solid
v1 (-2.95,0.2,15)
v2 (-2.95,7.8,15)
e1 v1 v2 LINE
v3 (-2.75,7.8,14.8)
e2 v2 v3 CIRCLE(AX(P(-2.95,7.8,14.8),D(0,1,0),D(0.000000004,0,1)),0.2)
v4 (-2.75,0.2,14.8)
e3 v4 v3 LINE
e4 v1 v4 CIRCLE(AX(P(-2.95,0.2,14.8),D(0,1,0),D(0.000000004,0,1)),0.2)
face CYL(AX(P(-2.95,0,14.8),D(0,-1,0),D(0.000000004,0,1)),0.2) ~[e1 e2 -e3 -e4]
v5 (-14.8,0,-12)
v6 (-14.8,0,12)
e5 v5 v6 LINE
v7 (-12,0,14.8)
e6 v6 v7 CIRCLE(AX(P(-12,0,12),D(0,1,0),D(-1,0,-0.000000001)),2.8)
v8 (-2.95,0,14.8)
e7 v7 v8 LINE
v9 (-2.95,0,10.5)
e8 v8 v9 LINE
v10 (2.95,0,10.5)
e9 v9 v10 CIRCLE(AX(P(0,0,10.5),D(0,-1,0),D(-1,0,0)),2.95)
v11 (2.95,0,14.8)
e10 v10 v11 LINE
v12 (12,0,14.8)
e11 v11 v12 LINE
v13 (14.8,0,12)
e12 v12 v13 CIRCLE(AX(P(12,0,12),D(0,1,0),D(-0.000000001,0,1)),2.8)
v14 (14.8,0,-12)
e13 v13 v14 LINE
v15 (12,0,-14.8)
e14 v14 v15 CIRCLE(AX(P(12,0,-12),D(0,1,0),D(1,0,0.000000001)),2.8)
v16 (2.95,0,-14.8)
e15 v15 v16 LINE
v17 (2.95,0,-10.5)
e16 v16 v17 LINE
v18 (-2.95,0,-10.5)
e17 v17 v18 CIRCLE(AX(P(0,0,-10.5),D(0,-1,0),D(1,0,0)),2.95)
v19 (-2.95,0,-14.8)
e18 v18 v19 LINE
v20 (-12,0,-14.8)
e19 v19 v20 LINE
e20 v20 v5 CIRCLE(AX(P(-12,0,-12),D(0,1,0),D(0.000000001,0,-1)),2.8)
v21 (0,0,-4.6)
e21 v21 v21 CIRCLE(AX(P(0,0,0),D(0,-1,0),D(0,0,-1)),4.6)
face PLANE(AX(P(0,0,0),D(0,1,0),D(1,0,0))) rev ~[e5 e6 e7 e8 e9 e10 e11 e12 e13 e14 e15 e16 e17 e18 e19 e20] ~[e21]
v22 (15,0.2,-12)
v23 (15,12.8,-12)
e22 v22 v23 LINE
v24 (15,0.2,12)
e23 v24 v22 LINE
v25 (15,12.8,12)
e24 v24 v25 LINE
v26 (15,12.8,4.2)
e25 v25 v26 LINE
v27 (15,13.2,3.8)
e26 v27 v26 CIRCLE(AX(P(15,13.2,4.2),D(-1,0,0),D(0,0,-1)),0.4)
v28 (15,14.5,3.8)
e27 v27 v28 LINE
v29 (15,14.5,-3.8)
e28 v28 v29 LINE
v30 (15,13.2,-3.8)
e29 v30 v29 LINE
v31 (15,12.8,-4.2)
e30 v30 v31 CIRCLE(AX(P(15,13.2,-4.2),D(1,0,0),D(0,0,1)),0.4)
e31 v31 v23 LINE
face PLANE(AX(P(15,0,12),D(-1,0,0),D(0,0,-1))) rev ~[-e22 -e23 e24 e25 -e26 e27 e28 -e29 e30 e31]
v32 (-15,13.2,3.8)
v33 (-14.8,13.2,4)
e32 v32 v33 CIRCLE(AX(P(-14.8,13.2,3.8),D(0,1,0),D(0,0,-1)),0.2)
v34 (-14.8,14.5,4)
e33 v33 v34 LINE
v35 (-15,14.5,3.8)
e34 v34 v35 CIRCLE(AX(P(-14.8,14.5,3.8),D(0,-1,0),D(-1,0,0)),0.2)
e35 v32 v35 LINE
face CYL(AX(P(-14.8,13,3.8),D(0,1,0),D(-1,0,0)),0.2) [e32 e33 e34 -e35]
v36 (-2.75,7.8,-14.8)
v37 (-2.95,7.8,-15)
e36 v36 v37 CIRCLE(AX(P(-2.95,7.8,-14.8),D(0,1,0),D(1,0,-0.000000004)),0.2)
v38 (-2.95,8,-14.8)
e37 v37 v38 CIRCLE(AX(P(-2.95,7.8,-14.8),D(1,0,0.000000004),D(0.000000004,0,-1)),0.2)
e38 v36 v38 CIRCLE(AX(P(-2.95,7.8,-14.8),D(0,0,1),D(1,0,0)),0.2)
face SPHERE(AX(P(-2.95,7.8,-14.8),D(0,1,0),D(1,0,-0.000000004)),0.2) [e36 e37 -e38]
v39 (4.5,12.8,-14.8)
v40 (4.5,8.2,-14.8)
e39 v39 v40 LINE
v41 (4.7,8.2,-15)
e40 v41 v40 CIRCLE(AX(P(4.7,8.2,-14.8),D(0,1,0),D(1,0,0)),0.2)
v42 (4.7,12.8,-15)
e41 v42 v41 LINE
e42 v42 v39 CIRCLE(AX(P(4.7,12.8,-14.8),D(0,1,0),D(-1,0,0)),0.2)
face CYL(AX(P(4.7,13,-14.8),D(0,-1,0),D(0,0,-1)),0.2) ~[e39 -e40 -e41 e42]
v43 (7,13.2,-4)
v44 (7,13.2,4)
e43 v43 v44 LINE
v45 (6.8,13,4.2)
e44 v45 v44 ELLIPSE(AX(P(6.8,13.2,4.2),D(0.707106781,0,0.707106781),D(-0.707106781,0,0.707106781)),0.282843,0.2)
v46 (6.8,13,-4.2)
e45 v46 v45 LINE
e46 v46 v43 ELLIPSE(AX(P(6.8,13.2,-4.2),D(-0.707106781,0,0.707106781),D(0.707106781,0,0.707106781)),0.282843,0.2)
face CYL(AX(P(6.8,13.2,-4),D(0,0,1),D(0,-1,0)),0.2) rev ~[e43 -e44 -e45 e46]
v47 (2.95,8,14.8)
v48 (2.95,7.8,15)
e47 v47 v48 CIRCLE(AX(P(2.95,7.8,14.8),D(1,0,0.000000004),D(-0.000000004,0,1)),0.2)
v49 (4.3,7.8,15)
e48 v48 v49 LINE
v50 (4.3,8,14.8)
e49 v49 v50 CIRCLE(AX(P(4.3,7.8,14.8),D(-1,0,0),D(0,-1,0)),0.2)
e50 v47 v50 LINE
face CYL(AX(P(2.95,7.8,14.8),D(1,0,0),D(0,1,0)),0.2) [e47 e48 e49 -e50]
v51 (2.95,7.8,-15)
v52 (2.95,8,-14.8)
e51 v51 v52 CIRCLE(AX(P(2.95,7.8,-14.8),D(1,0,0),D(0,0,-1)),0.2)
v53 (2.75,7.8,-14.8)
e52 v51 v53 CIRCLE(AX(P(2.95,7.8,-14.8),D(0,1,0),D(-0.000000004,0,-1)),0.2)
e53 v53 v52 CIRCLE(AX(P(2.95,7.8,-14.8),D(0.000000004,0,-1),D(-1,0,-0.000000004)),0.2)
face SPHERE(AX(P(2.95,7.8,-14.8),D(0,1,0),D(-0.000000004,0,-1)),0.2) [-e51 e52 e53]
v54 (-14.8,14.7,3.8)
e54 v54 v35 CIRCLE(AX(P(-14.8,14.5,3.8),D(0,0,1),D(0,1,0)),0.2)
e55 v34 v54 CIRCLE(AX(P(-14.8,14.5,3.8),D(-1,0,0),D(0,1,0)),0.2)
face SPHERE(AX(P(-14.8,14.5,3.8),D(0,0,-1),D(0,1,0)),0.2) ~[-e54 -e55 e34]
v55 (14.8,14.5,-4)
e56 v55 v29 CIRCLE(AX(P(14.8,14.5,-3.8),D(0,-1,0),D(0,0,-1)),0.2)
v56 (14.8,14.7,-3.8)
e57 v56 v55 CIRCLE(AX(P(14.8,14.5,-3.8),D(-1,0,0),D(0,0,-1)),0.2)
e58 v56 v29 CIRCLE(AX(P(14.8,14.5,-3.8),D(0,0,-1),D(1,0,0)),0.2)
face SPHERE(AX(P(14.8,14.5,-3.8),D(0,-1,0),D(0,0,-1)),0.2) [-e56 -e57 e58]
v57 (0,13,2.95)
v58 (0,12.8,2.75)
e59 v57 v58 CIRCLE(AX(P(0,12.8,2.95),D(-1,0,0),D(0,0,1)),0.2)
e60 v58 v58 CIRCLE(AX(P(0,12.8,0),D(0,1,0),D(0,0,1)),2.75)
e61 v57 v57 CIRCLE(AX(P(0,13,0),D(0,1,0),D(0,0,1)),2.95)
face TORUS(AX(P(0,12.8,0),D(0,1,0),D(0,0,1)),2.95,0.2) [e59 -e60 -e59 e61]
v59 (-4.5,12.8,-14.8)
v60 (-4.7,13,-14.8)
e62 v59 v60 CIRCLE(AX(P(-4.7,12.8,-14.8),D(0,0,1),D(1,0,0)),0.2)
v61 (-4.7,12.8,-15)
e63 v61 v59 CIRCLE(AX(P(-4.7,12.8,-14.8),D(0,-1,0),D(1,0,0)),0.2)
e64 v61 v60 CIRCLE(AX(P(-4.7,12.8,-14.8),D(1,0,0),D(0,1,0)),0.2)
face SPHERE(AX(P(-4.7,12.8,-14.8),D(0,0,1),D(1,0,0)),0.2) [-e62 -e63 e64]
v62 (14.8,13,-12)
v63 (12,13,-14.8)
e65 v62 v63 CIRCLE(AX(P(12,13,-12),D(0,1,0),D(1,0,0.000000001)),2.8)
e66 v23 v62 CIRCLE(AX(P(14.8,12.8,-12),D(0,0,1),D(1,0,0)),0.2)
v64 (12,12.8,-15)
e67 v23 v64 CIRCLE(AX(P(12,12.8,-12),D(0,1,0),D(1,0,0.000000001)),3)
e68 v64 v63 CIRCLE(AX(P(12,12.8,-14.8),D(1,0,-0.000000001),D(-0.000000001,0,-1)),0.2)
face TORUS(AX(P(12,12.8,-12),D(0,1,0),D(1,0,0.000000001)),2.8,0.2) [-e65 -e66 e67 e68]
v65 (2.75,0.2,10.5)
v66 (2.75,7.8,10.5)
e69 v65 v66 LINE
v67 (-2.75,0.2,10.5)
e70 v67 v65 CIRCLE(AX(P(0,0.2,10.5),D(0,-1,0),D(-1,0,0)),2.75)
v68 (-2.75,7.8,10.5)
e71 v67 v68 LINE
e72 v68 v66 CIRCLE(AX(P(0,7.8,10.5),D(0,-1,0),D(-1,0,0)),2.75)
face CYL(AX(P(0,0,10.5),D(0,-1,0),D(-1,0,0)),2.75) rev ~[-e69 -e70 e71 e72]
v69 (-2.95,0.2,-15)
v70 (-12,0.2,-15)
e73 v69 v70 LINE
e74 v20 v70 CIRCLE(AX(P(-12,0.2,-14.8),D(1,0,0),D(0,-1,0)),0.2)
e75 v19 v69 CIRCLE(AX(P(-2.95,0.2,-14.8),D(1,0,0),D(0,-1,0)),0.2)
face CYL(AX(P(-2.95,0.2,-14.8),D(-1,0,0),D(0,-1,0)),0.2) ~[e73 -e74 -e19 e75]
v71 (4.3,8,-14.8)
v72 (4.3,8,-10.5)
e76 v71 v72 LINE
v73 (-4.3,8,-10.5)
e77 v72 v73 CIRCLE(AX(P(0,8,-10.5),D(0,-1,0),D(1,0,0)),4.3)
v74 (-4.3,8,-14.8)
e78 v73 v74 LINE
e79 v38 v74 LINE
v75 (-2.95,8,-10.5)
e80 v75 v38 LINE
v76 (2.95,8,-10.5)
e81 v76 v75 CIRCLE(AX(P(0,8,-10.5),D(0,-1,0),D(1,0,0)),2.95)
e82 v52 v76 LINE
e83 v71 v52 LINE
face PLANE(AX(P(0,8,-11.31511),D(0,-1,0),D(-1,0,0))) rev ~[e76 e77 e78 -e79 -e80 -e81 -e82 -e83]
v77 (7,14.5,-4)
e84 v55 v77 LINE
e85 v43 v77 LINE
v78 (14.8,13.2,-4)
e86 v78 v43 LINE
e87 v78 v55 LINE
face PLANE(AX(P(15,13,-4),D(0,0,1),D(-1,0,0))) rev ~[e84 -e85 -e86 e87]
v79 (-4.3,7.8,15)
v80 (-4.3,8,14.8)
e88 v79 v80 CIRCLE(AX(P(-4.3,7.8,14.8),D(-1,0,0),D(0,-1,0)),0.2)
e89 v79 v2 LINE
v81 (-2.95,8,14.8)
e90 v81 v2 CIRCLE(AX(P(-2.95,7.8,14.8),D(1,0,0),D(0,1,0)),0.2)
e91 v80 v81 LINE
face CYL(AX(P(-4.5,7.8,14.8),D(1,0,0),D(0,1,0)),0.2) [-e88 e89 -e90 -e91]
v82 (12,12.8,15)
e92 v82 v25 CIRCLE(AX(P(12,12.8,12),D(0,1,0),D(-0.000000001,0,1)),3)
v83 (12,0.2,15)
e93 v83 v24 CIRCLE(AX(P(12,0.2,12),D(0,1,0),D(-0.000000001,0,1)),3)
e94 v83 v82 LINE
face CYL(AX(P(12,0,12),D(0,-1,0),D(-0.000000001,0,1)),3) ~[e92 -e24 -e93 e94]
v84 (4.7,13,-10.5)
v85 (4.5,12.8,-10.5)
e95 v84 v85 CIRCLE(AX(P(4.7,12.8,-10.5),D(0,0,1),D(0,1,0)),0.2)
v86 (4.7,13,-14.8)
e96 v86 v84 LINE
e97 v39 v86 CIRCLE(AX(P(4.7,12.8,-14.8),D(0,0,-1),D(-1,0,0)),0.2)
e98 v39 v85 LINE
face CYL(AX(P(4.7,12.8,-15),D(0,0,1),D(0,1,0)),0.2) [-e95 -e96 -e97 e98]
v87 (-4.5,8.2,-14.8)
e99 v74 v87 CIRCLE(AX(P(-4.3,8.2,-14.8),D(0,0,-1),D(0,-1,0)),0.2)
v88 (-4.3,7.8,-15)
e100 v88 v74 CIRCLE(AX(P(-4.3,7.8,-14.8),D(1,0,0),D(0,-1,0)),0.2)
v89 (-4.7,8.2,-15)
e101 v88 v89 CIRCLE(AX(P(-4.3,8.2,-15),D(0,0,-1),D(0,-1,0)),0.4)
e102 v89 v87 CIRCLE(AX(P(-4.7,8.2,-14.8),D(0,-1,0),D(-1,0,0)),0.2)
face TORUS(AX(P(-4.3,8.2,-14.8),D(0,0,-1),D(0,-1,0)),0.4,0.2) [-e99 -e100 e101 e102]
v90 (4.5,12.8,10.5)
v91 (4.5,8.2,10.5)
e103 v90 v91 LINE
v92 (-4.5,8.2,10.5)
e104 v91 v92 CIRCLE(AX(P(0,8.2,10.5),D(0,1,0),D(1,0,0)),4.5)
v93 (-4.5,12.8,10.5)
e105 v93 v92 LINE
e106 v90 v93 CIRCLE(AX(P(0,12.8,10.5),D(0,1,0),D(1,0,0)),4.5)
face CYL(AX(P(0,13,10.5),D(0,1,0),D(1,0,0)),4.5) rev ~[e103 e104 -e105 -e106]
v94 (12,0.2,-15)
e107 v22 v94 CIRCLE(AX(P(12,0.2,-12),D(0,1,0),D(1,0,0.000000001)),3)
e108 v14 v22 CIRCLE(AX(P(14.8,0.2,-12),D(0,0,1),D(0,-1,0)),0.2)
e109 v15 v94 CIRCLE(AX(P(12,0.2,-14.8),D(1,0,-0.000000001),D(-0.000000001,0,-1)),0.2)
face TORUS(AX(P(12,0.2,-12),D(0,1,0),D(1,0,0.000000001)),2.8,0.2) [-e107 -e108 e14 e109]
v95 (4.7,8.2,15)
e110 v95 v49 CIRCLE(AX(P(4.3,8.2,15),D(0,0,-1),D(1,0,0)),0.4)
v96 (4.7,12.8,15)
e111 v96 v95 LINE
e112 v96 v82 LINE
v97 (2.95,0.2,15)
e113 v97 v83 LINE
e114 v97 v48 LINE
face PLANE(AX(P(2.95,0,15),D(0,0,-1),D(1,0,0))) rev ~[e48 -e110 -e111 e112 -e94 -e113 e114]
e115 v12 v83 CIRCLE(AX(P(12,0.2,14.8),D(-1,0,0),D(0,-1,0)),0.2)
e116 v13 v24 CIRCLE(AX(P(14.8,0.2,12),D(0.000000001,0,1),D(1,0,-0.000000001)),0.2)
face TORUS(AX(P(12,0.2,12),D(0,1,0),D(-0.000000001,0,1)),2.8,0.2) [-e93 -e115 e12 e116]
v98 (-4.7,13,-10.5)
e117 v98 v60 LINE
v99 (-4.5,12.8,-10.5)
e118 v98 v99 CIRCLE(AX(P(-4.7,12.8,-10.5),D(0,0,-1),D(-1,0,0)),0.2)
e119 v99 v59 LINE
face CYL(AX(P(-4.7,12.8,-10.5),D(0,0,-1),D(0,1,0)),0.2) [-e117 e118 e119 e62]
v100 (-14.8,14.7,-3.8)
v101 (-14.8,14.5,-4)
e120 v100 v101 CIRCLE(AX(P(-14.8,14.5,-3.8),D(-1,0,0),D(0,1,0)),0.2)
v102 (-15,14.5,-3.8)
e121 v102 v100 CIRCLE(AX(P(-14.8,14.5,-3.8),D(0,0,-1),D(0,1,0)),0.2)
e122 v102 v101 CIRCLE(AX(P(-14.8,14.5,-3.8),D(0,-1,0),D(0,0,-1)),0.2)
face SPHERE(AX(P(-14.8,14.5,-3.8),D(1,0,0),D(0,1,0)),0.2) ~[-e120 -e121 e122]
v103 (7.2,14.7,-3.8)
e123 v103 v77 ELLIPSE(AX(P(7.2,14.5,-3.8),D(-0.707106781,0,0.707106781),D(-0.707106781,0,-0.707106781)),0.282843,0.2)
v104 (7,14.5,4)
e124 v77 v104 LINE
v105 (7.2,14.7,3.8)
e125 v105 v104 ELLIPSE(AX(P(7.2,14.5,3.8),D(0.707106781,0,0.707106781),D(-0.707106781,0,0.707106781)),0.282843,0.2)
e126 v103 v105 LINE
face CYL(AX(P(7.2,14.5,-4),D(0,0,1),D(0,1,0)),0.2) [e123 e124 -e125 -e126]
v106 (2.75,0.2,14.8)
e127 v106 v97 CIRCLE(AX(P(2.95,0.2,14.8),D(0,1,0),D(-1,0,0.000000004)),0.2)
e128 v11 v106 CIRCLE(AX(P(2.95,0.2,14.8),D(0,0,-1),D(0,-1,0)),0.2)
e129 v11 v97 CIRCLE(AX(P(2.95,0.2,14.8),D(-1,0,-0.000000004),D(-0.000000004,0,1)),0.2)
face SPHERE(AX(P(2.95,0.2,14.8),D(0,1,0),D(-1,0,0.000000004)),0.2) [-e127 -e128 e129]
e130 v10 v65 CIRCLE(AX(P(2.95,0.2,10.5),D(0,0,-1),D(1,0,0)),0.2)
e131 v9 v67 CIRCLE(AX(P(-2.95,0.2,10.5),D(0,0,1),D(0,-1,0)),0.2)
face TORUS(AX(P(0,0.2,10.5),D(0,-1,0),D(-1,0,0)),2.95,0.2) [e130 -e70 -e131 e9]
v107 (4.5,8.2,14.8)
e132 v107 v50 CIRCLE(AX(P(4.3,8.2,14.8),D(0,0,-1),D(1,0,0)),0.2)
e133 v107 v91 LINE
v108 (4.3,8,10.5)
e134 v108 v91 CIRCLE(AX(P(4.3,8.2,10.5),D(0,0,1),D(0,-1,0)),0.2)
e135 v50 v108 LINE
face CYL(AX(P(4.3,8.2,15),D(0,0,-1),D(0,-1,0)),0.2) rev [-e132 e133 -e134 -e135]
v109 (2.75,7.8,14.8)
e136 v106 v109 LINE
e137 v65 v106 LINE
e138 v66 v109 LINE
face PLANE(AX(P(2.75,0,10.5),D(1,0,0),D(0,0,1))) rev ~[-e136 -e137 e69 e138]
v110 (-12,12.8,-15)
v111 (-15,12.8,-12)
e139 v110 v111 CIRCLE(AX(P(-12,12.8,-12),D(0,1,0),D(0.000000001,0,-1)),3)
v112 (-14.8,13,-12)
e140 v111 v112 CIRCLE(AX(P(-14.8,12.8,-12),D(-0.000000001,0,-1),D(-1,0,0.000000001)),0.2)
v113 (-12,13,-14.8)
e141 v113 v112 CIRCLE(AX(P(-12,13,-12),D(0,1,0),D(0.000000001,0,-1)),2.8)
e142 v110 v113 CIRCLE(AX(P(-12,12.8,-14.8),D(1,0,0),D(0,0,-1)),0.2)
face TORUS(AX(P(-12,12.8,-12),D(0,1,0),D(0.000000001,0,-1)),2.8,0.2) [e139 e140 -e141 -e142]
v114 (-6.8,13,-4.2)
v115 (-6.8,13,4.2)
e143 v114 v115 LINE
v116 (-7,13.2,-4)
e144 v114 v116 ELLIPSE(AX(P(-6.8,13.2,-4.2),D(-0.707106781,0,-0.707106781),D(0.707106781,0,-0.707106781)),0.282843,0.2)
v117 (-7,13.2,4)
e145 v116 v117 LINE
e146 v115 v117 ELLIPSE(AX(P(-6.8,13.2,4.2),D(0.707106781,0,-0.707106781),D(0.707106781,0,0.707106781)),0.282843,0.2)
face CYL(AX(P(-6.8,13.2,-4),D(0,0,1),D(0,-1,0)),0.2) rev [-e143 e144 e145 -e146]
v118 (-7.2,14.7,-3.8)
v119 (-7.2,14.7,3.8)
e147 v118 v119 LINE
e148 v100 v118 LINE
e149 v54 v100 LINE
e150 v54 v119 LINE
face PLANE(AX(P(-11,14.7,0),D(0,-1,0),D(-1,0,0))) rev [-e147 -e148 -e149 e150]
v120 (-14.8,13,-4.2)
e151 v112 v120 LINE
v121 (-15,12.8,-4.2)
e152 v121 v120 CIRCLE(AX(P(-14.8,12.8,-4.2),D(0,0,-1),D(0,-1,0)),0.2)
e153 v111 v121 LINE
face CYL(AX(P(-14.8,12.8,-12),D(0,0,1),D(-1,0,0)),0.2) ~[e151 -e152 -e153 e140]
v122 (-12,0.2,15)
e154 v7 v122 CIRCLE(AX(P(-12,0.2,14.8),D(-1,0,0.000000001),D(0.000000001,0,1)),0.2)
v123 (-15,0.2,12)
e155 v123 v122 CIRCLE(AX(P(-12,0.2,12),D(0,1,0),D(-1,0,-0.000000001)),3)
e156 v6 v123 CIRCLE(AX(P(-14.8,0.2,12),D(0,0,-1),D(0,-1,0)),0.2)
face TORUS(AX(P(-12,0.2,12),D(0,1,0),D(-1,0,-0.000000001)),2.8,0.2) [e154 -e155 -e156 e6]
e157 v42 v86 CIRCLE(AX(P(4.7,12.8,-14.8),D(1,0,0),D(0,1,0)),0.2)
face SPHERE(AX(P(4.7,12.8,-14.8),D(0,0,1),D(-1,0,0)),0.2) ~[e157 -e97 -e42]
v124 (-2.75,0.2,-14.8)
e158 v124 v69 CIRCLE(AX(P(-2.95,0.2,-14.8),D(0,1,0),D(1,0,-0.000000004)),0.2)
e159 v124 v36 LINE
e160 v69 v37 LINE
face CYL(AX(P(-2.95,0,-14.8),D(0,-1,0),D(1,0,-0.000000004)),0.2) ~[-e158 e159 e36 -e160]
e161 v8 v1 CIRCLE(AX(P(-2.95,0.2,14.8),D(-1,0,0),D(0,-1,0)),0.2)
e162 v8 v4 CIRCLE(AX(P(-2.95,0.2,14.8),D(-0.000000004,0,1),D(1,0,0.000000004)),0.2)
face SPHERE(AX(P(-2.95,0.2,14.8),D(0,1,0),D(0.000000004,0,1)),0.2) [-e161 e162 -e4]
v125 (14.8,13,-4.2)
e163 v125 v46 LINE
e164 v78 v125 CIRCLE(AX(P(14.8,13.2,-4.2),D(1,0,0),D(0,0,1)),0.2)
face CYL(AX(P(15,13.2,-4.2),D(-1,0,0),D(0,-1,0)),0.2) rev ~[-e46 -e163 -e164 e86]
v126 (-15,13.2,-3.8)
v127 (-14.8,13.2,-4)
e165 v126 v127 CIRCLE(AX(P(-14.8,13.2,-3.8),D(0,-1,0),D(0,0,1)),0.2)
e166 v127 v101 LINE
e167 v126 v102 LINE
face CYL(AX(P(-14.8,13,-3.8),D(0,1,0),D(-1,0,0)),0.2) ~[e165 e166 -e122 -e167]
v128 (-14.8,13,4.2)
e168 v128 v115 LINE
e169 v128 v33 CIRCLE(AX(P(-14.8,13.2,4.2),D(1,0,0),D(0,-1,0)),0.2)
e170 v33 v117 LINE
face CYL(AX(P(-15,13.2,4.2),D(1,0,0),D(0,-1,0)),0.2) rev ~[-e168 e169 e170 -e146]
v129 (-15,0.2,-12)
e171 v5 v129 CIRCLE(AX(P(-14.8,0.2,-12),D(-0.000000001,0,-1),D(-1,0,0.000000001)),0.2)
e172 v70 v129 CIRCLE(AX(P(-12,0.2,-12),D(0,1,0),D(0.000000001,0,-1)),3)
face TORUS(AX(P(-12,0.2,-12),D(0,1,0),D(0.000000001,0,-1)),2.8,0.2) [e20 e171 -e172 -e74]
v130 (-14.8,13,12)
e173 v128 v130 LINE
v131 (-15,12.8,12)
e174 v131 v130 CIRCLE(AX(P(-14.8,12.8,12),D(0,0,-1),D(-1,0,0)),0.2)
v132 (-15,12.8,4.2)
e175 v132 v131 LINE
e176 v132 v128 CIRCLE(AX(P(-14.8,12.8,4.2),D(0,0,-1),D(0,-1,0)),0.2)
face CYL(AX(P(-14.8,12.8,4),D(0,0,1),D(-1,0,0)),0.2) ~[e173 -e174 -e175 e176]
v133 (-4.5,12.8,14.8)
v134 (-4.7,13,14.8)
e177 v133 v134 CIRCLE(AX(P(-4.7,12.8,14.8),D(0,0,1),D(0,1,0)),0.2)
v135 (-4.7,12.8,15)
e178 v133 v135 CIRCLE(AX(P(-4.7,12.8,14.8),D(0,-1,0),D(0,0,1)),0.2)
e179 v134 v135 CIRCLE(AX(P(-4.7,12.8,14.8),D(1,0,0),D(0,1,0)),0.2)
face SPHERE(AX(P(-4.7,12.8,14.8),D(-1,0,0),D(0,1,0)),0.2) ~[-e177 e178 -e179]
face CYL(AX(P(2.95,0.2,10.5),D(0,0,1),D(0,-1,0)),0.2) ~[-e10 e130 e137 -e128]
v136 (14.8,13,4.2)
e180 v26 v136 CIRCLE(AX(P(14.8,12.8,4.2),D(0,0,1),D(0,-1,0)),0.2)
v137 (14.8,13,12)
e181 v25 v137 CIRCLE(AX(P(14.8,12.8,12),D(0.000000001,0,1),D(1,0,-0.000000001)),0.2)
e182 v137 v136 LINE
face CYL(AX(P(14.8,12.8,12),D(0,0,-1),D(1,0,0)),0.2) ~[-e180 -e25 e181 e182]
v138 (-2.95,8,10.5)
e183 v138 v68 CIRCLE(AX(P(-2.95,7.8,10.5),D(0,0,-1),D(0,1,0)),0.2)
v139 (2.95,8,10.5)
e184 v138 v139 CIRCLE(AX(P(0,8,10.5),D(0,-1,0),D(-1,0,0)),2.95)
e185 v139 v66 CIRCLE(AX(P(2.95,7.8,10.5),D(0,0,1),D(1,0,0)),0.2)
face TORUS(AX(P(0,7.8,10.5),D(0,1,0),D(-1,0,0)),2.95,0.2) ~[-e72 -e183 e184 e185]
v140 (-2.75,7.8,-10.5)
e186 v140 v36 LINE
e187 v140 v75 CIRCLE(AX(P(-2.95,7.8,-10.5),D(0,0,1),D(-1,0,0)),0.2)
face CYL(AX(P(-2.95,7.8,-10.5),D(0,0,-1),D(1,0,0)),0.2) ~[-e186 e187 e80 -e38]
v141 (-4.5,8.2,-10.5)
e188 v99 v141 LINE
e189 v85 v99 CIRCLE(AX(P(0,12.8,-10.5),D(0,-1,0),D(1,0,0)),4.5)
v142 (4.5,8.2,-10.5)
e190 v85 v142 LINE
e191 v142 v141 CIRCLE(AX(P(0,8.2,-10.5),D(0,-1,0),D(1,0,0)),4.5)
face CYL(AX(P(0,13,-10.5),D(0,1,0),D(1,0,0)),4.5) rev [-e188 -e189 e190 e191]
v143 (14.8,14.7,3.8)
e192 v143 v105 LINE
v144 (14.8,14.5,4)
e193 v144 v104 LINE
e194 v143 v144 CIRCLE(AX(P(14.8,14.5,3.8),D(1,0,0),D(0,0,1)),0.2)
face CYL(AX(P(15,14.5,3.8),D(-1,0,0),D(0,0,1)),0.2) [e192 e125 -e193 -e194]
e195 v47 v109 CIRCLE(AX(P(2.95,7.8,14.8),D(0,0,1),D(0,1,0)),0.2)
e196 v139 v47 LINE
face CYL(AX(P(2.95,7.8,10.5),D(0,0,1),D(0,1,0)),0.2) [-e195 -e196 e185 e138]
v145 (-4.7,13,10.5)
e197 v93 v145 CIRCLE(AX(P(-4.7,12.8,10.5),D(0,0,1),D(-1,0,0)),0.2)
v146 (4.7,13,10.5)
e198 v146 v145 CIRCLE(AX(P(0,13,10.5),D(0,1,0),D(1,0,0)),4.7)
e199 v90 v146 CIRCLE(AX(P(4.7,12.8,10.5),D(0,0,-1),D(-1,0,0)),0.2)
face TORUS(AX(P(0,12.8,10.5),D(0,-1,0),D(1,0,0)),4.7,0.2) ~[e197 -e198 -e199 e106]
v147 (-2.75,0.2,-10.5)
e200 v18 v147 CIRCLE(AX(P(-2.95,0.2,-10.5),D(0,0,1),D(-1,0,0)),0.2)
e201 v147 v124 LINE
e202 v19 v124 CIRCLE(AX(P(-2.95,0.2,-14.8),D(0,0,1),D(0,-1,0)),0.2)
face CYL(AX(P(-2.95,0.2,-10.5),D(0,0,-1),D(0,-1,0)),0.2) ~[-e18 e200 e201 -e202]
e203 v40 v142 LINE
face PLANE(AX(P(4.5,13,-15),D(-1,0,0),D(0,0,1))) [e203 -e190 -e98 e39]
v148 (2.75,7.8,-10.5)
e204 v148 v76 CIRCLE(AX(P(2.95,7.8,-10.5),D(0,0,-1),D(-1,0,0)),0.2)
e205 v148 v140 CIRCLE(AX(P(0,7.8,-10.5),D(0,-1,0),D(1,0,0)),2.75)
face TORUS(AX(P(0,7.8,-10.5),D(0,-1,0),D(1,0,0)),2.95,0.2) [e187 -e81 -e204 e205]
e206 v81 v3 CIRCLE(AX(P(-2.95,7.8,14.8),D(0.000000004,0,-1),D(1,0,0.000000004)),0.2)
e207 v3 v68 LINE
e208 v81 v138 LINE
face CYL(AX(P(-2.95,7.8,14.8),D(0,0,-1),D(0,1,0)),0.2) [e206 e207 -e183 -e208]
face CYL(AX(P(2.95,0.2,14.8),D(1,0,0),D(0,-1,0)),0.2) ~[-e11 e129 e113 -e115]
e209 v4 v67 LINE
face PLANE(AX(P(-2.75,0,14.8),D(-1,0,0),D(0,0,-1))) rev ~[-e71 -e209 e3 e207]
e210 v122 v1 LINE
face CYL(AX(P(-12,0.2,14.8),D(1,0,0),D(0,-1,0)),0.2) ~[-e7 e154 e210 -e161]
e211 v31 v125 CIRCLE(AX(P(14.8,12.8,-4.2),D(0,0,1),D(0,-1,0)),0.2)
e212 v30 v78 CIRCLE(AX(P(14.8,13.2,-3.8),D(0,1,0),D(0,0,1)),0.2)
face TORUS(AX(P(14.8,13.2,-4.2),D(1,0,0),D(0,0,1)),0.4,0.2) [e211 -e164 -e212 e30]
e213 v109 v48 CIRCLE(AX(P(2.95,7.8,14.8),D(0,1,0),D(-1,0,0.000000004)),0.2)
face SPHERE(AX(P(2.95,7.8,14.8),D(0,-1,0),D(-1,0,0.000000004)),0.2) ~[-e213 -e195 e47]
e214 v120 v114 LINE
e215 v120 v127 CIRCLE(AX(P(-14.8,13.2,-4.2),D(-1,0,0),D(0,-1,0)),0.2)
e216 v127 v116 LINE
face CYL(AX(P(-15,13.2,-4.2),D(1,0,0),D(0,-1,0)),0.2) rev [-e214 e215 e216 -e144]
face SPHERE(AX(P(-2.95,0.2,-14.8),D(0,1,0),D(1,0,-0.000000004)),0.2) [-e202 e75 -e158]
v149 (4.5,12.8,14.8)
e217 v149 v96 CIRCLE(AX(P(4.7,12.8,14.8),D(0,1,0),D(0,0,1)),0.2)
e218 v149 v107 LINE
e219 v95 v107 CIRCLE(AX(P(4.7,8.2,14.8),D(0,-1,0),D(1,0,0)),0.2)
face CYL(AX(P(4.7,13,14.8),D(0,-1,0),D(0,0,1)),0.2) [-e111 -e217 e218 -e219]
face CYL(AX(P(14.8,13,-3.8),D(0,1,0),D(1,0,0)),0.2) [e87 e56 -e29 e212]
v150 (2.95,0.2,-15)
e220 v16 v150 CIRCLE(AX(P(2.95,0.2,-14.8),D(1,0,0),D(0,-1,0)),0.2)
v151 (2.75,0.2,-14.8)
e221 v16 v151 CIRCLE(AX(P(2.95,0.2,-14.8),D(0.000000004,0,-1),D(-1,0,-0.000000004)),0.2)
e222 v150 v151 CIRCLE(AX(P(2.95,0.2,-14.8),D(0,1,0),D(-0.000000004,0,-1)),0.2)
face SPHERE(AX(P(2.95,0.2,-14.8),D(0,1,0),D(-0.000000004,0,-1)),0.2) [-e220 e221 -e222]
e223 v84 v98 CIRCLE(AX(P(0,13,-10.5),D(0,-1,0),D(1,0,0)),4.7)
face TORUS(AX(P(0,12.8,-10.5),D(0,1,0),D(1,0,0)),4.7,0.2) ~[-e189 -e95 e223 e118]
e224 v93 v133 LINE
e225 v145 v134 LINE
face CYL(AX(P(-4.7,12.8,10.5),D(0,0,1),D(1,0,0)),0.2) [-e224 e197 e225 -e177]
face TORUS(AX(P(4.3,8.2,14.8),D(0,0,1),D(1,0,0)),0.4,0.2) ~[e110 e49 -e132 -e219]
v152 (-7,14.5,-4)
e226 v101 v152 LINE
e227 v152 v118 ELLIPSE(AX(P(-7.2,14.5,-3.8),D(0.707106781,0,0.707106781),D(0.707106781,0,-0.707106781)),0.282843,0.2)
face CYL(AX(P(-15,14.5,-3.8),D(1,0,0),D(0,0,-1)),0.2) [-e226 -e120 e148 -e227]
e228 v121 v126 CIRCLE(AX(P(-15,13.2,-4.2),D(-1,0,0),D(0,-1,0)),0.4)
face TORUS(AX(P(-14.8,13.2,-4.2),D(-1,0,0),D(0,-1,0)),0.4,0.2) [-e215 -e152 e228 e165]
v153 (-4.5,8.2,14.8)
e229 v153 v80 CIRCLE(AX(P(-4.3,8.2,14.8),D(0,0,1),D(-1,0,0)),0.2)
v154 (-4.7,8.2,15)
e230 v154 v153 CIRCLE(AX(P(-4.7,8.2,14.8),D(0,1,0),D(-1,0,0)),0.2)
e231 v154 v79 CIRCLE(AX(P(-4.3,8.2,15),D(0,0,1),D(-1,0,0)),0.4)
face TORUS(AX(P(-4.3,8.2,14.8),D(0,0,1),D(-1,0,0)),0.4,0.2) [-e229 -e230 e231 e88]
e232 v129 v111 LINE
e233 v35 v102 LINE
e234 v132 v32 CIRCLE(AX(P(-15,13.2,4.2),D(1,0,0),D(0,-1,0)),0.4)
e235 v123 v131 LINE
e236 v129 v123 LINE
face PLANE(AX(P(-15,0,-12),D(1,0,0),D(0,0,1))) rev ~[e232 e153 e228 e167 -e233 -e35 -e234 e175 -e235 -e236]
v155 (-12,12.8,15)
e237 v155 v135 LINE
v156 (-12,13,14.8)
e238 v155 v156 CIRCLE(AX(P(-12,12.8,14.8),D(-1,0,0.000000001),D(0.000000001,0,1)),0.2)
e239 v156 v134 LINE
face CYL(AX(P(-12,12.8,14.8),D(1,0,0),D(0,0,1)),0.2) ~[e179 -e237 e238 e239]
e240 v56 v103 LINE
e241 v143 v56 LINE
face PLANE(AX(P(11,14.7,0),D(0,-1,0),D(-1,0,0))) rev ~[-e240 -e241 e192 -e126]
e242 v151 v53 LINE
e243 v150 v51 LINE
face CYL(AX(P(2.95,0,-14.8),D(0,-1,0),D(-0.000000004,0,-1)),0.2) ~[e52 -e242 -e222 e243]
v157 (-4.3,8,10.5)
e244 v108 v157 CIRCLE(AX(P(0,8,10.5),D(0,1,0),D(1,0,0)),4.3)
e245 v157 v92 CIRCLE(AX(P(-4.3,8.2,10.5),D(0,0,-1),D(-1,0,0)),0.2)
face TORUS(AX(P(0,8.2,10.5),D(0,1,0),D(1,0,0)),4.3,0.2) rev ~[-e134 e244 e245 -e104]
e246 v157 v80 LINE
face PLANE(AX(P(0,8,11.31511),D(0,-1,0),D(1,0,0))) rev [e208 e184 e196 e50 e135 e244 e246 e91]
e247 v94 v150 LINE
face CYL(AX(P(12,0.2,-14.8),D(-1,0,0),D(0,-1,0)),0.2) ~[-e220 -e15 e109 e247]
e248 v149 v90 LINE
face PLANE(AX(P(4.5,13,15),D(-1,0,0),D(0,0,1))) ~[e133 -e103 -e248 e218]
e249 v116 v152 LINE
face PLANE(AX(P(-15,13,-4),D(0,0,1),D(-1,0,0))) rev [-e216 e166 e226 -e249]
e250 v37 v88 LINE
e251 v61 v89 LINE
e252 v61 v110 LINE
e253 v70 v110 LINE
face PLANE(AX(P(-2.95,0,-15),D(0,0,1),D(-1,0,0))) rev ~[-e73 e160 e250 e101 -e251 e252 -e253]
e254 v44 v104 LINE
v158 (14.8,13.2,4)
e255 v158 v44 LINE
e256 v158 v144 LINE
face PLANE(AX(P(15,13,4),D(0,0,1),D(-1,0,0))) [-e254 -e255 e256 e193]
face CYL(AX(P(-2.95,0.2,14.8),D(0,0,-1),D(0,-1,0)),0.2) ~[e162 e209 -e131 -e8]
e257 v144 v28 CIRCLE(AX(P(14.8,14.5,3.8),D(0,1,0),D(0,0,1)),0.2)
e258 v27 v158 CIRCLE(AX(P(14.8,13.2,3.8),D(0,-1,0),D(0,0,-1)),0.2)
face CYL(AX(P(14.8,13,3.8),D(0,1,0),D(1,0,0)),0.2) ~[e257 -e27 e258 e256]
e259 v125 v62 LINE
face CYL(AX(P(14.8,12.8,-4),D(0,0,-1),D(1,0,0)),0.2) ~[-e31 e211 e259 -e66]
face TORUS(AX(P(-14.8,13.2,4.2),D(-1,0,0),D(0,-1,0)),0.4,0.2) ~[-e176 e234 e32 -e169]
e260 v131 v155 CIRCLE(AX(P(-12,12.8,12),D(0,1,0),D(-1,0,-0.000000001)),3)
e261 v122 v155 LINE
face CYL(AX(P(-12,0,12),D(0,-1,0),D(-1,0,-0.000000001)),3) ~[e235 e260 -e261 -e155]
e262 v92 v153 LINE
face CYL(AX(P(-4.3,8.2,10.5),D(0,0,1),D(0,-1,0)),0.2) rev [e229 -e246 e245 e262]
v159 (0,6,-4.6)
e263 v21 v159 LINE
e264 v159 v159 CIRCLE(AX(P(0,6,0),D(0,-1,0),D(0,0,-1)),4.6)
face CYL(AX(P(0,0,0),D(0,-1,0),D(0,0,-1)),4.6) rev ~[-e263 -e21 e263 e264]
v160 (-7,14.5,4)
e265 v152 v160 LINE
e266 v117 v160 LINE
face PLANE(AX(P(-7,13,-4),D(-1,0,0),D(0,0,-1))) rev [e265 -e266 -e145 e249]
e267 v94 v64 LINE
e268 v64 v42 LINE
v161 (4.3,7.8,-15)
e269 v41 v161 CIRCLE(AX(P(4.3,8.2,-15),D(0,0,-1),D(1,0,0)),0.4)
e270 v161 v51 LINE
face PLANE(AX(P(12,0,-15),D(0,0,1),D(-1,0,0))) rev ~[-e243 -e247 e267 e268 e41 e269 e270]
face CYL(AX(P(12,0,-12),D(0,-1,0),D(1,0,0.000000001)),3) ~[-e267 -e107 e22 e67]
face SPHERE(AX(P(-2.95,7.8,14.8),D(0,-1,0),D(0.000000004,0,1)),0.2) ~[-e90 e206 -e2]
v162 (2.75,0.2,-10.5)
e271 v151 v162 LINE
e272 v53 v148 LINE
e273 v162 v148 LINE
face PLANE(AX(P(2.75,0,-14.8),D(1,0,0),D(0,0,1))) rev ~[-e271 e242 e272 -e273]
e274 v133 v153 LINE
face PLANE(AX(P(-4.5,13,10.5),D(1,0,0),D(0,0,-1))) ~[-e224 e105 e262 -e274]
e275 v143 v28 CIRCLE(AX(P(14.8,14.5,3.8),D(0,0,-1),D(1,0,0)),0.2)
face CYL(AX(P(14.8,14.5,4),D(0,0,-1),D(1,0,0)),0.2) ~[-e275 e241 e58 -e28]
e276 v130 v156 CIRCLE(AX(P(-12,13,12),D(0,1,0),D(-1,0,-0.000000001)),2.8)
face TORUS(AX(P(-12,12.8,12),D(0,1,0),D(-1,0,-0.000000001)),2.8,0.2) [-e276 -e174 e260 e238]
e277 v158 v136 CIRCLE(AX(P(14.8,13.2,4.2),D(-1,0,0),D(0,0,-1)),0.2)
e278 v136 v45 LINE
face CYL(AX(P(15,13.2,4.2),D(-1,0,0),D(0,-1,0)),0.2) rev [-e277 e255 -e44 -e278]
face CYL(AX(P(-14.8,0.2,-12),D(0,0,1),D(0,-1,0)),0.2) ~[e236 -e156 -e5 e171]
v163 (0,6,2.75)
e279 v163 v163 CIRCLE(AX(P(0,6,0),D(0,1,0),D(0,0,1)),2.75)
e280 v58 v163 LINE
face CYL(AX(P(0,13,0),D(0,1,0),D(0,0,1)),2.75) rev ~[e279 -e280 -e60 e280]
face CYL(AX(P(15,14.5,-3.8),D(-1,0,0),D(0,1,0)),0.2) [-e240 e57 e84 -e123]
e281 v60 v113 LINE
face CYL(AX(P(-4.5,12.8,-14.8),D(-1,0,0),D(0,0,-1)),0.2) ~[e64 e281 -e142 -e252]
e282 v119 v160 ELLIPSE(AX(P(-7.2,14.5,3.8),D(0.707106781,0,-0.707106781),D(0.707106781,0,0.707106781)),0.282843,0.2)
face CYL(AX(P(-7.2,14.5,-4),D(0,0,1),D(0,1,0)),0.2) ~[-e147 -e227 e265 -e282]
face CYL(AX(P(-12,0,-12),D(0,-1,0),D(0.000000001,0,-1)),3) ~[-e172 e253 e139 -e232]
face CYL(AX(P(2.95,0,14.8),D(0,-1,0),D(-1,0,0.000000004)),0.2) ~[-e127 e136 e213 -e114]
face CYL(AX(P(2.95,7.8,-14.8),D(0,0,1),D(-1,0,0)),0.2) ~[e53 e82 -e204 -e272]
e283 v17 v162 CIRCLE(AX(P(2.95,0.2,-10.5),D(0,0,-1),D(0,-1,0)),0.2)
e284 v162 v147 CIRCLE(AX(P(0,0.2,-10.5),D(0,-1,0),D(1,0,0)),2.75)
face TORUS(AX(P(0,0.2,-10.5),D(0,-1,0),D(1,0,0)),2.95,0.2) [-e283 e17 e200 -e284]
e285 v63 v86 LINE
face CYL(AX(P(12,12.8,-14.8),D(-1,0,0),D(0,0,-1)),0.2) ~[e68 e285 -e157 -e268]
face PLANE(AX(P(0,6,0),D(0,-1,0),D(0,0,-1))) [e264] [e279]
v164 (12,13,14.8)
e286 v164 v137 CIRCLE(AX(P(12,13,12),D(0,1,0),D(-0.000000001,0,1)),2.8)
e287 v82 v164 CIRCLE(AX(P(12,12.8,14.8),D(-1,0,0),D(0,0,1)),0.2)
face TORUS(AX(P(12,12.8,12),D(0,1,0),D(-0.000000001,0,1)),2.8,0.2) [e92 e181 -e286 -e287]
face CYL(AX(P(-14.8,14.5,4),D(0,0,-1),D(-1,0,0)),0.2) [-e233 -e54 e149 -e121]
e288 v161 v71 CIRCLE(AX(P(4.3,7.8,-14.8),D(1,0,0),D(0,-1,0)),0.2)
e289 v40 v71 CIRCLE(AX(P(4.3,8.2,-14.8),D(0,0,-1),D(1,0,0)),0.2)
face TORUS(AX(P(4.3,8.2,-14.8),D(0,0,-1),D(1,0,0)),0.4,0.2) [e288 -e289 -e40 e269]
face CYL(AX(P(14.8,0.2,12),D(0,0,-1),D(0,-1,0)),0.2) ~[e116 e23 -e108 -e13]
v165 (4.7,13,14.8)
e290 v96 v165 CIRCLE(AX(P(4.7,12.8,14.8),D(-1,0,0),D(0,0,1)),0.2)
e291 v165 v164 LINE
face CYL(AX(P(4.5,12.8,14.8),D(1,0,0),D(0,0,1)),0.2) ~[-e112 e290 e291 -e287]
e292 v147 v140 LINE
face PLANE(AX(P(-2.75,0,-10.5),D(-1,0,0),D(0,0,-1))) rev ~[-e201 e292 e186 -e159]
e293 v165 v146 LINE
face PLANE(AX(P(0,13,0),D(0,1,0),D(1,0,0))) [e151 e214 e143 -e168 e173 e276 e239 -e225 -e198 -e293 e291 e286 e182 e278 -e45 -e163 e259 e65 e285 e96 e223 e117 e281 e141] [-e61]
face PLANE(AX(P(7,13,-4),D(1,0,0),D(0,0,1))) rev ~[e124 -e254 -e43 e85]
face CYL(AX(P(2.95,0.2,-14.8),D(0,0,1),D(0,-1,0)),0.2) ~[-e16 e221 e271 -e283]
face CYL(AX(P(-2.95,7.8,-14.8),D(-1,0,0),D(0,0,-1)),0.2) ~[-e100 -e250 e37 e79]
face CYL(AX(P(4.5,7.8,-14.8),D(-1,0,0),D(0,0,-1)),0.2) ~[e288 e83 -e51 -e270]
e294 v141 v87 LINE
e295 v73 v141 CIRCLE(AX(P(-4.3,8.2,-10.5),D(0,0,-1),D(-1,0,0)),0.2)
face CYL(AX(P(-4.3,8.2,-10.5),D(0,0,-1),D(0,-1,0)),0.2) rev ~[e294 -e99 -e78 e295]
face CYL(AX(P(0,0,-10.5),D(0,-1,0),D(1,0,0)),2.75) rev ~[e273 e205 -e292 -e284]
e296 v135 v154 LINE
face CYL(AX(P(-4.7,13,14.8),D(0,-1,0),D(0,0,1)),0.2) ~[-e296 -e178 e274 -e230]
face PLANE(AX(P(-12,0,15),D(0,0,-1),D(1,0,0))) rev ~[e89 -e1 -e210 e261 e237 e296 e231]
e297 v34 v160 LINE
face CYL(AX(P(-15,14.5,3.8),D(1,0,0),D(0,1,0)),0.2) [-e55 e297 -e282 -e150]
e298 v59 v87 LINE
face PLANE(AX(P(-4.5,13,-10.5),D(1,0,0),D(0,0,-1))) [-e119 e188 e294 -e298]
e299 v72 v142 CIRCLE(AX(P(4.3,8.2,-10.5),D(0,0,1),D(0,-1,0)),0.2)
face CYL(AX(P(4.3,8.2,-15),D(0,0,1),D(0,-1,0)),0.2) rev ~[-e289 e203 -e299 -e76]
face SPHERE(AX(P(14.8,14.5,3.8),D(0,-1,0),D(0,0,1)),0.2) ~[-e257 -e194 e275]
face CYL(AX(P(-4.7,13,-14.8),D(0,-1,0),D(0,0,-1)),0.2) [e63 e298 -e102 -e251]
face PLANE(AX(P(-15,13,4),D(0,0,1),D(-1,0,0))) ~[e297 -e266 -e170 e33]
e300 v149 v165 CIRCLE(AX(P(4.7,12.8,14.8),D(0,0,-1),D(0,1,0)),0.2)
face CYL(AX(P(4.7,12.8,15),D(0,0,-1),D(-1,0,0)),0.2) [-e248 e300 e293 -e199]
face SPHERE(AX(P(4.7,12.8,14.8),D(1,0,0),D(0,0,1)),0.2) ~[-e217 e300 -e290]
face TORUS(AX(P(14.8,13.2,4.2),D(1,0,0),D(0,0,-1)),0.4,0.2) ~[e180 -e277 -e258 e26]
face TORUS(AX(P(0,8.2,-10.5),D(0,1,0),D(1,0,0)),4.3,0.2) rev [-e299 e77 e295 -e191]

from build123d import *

# Parameters (mm, degrees)
BOSS_EXTRUDE1_DEPTH = 13
BOSS_EXTRUDE2_DEPTH = 1.7
CUT_EXTRUDE1_DEPTH  = 5
SKETCH4_R           = 2.75
CUT_EXTRUDE2_DEPTH  = 35
SKETCH5_R           = 4.6
CUT_EXTRUDE3_DEPTH  = 6
FILLET1_R           = 0.2


with BuildPart() as part:
    # Sketch1 → Boss-Extrude1 (new body)
    with BuildSketch(Plane(origin=(0, 0, 0), x_dir=(1, 0, 0), z_dir=(0, 1, 0))):
        with BuildLine():
            Line((2.75, -10.5), (2.75, -14.8))
            ThreePointArc((2.75, -14.8), (2.808578644, -14.941421356), (2.95, -15))
            Line((2.95, -15), (12, -15))
            ThreePointArc((12, -15), (14.121320344, -14.121320344), (15, -12))
            Line((15, -12), (15, 12))
            ThreePointArc((15, 12), (14.121320344, 14.121320344), (12, 15))
            Line((12, 15), (2.95, 15))
            ThreePointArc((2.95, 15), (2.808578644, 14.941421356), (2.75, 14.8))
            Line((2.75, 14.8), (2.75, 10.5))
            ThreePointArc((2.75, 10.5), (0, 7.75), (-2.75, 10.5))
            Line((-2.75, 10.5), (-2.75, 14.8))
            ThreePointArc((-2.75, 14.8), (-2.808578644, 14.941421356), (-2.95, 15))
            Line((-2.95, 15), (-12, 15))
            ThreePointArc((-12, 15), (-14.121320344, 14.121320344), (-15, 12))
            Line((-15, 12), (-15, -12))
            ThreePointArc((-15, -12), (-14.121320344, -14.121320344), (-12, -15))
            Line((-12, -15), (-2.95, -15))
            ThreePointArc((-2.95, -15), (-2.808578644, -14.941421356), (-2.75, -14.8))
            Line((-2.75, -14.8), (-2.75, -10.5))
            ThreePointArc((-2.75, -10.5), (0, -7.75), (2.75, -10.5))
        make_face()
    extrude(amount=BOSS_EXTRUDE1_DEPTH)

    # Sketch2 → Boss-Extrude2 (add)
    with BuildSketch(Plane(origin=(0, 13, 0), x_dir=(1, 0, 0), z_dir=(0, 1, 0))):
        Polygon((7.2, 4), (14.8, 4), (15, 4), (15, -3.8), (15, -4), (7, -4), (7, -3.8), (7, 4), align=None)
    boss_extrude2 = extrude(amount=BOSS_EXTRUDE2_DEPTH)

    # Mirror1: Boss-Extrude2 across plane
    add(boss_extrude2.mirror(Plane(origin=(0, 0, 0), x_dir=(0, 0, 1), z_dir=(1, 0, 0))))

    # Sketch3 → Cut-Extrude1 (cut)
    with BuildSketch(Plane(origin=(0, 13, 0), x_dir=(1, 0, 0), z_dir=(0, 1, 0))):
        with BuildLine():
            Line((4.5, 14.8), (4.5, 10.5))
            ThreePointArc((4.5, 10.5), (0, 6), (-4.5, 10.5))
            Line((-4.5, 10.5), (-4.5, 14.8))
            Line((-4.5, 14.8), (-4.5, 15))
            Line((-4.5, 15), (4.5, 15))
            Line((4.5, 15), (4.5, 14.8))
        make_face()
    cut_extrude1 = extrude(amount=-CUT_EXTRUDE1_DEPTH, mode=Mode.SUBTRACT)

    # Mirror2: Cut-Extrude1 across plane
    add(cut_extrude1.mirror(Plane.XY), mode=Mode.SUBTRACT)

    # Sketch4 → Cut-Extrude2 (cut)
    with BuildSketch(Plane(origin=(0, 13, 0), x_dir=(1, 0, 0), z_dir=(0, 1, 0))):
        with Locations(Location((0, 0, 0), (0, 0, 270))):
            Circle(SKETCH4_R)
    extrude(amount=-CUT_EXTRUDE2_DEPTH, mode=Mode.SUBTRACT)

    # Sketch5 → Cut-Extrude3 (cut)
    with BuildSketch(Plane.XZ):
        with Locations(Location((0, 0, 0), (0, 0, 270))):
            Circle(SKETCH5_R)
    extrude(amount=-CUT_EXTRUDE3_DEPTH, mode=Mode.SUBTRACT)

    # Fillet1
    fillet1_edges = [part.edges().sort_by_distance(p)[0] for p in [
        (0, 8, -7.75),
        (-4.5, 13, -12.75),
        (0, 13, -6),
        (4.5, 13, -12.75),
        (-3.725, 8, -15),
        (-4.5, 10.5, -15),
        (4.5, 8, -12.75),
        (4.5, 10.5, -15),
        (0, 8, -6),
        (-4.5, 8, -12.75),
        (3.725, 8, -15),
        (2.808578644, 8, -14.941421356),
        (2.75, 8, -12.65),
        (-2.75, 8, -12.65),
        (-2.808578644, 8, -14.941421356),
        (8.25, 13, 15),
        (-14.121320344, 13, 14.121320344),
        (-3.725, 8, 15),
        (-4.5, 8, 12.75),
        (0, 8, 6),
        (4.5, 8, 12.75),
        (3.725, 8, 15),
        (0, 8, 7.75),
        (4.5, 10.5, 15),
        (-4.5, 13, 12.75),
        (-4.5, 10.5, 15),
        (0, 13, 6),
        (4.5, 13, 12.75),
        (-2.808578644, 8, 14.941421356),
        (-2.75, 8, 12.65),
        (2.75, 8, 12.65),
        (2.808578644, 8, 14.941421356),
        (0, 13, -2.75),
        (-8.25, 13, 15),
        (-7.475, 0, -15),
        (-2.808578644, 0, -14.941421356),
        (-2.75, 0, -12.65),
        (0, 0, -7.75),
        (2.75, 0, -12.65),
        (2.808578644, 0, -14.941421356),
        (7.475, 0, -15),
        (14.121320344, 0, -14.121320344),
        (15, 0, 0),
        (14.121320344, 0, 14.121320344),
        (7.475, 0, 15),
        (2.808578644, 0, 14.941421356),
        (2.75, 0, 12.65),
        (0, 0, 7.75),
        (-2.75, 0, 12.65),
        (-2.808578644, 0, 14.941421356),
        (-7.475, 0, 15),
        (-14.121320344, 0, 14.121320344),
        (-15, 0, 0),
        (-14.121320344, 0, -14.121320344),
        (14.121320344, 13, 14.121320344),
        (15, 13, 8),
        (-14.121320344, 13, -14.121320344),
        (14.121320344, 13, -14.121320344),
        (8.25, 13, -15),
        (15, 13, -8),
        (7, 13, 0),
        (11, 13, 4),
        (15, 13.85, 4),
        (11, 13, -4),
        (15, 13.85, -4),
        (11, 14.7, -4),
        (7, 14.7, 0),
        (11, 14.7, 4),
        (15, 14.7, 0),
        (-15, 13, 8),
        (-11, 14.7, -4),
        (-15, 14.7, 0),
        (-15, 13.85, -4),
        (-11, 14.7, 4),
        (-15, 13.85, 4),
        (-7, 14.7, 0),
        (-11, 13, -4),
        (-7, 13, 0),
        (-11, 13, 4),
        (-15, 13, -8),
        (-8.25, 13, -15),
    ]]
    fillet(fillet1_edges, radius=FILLET1_R)


solid = part.part
